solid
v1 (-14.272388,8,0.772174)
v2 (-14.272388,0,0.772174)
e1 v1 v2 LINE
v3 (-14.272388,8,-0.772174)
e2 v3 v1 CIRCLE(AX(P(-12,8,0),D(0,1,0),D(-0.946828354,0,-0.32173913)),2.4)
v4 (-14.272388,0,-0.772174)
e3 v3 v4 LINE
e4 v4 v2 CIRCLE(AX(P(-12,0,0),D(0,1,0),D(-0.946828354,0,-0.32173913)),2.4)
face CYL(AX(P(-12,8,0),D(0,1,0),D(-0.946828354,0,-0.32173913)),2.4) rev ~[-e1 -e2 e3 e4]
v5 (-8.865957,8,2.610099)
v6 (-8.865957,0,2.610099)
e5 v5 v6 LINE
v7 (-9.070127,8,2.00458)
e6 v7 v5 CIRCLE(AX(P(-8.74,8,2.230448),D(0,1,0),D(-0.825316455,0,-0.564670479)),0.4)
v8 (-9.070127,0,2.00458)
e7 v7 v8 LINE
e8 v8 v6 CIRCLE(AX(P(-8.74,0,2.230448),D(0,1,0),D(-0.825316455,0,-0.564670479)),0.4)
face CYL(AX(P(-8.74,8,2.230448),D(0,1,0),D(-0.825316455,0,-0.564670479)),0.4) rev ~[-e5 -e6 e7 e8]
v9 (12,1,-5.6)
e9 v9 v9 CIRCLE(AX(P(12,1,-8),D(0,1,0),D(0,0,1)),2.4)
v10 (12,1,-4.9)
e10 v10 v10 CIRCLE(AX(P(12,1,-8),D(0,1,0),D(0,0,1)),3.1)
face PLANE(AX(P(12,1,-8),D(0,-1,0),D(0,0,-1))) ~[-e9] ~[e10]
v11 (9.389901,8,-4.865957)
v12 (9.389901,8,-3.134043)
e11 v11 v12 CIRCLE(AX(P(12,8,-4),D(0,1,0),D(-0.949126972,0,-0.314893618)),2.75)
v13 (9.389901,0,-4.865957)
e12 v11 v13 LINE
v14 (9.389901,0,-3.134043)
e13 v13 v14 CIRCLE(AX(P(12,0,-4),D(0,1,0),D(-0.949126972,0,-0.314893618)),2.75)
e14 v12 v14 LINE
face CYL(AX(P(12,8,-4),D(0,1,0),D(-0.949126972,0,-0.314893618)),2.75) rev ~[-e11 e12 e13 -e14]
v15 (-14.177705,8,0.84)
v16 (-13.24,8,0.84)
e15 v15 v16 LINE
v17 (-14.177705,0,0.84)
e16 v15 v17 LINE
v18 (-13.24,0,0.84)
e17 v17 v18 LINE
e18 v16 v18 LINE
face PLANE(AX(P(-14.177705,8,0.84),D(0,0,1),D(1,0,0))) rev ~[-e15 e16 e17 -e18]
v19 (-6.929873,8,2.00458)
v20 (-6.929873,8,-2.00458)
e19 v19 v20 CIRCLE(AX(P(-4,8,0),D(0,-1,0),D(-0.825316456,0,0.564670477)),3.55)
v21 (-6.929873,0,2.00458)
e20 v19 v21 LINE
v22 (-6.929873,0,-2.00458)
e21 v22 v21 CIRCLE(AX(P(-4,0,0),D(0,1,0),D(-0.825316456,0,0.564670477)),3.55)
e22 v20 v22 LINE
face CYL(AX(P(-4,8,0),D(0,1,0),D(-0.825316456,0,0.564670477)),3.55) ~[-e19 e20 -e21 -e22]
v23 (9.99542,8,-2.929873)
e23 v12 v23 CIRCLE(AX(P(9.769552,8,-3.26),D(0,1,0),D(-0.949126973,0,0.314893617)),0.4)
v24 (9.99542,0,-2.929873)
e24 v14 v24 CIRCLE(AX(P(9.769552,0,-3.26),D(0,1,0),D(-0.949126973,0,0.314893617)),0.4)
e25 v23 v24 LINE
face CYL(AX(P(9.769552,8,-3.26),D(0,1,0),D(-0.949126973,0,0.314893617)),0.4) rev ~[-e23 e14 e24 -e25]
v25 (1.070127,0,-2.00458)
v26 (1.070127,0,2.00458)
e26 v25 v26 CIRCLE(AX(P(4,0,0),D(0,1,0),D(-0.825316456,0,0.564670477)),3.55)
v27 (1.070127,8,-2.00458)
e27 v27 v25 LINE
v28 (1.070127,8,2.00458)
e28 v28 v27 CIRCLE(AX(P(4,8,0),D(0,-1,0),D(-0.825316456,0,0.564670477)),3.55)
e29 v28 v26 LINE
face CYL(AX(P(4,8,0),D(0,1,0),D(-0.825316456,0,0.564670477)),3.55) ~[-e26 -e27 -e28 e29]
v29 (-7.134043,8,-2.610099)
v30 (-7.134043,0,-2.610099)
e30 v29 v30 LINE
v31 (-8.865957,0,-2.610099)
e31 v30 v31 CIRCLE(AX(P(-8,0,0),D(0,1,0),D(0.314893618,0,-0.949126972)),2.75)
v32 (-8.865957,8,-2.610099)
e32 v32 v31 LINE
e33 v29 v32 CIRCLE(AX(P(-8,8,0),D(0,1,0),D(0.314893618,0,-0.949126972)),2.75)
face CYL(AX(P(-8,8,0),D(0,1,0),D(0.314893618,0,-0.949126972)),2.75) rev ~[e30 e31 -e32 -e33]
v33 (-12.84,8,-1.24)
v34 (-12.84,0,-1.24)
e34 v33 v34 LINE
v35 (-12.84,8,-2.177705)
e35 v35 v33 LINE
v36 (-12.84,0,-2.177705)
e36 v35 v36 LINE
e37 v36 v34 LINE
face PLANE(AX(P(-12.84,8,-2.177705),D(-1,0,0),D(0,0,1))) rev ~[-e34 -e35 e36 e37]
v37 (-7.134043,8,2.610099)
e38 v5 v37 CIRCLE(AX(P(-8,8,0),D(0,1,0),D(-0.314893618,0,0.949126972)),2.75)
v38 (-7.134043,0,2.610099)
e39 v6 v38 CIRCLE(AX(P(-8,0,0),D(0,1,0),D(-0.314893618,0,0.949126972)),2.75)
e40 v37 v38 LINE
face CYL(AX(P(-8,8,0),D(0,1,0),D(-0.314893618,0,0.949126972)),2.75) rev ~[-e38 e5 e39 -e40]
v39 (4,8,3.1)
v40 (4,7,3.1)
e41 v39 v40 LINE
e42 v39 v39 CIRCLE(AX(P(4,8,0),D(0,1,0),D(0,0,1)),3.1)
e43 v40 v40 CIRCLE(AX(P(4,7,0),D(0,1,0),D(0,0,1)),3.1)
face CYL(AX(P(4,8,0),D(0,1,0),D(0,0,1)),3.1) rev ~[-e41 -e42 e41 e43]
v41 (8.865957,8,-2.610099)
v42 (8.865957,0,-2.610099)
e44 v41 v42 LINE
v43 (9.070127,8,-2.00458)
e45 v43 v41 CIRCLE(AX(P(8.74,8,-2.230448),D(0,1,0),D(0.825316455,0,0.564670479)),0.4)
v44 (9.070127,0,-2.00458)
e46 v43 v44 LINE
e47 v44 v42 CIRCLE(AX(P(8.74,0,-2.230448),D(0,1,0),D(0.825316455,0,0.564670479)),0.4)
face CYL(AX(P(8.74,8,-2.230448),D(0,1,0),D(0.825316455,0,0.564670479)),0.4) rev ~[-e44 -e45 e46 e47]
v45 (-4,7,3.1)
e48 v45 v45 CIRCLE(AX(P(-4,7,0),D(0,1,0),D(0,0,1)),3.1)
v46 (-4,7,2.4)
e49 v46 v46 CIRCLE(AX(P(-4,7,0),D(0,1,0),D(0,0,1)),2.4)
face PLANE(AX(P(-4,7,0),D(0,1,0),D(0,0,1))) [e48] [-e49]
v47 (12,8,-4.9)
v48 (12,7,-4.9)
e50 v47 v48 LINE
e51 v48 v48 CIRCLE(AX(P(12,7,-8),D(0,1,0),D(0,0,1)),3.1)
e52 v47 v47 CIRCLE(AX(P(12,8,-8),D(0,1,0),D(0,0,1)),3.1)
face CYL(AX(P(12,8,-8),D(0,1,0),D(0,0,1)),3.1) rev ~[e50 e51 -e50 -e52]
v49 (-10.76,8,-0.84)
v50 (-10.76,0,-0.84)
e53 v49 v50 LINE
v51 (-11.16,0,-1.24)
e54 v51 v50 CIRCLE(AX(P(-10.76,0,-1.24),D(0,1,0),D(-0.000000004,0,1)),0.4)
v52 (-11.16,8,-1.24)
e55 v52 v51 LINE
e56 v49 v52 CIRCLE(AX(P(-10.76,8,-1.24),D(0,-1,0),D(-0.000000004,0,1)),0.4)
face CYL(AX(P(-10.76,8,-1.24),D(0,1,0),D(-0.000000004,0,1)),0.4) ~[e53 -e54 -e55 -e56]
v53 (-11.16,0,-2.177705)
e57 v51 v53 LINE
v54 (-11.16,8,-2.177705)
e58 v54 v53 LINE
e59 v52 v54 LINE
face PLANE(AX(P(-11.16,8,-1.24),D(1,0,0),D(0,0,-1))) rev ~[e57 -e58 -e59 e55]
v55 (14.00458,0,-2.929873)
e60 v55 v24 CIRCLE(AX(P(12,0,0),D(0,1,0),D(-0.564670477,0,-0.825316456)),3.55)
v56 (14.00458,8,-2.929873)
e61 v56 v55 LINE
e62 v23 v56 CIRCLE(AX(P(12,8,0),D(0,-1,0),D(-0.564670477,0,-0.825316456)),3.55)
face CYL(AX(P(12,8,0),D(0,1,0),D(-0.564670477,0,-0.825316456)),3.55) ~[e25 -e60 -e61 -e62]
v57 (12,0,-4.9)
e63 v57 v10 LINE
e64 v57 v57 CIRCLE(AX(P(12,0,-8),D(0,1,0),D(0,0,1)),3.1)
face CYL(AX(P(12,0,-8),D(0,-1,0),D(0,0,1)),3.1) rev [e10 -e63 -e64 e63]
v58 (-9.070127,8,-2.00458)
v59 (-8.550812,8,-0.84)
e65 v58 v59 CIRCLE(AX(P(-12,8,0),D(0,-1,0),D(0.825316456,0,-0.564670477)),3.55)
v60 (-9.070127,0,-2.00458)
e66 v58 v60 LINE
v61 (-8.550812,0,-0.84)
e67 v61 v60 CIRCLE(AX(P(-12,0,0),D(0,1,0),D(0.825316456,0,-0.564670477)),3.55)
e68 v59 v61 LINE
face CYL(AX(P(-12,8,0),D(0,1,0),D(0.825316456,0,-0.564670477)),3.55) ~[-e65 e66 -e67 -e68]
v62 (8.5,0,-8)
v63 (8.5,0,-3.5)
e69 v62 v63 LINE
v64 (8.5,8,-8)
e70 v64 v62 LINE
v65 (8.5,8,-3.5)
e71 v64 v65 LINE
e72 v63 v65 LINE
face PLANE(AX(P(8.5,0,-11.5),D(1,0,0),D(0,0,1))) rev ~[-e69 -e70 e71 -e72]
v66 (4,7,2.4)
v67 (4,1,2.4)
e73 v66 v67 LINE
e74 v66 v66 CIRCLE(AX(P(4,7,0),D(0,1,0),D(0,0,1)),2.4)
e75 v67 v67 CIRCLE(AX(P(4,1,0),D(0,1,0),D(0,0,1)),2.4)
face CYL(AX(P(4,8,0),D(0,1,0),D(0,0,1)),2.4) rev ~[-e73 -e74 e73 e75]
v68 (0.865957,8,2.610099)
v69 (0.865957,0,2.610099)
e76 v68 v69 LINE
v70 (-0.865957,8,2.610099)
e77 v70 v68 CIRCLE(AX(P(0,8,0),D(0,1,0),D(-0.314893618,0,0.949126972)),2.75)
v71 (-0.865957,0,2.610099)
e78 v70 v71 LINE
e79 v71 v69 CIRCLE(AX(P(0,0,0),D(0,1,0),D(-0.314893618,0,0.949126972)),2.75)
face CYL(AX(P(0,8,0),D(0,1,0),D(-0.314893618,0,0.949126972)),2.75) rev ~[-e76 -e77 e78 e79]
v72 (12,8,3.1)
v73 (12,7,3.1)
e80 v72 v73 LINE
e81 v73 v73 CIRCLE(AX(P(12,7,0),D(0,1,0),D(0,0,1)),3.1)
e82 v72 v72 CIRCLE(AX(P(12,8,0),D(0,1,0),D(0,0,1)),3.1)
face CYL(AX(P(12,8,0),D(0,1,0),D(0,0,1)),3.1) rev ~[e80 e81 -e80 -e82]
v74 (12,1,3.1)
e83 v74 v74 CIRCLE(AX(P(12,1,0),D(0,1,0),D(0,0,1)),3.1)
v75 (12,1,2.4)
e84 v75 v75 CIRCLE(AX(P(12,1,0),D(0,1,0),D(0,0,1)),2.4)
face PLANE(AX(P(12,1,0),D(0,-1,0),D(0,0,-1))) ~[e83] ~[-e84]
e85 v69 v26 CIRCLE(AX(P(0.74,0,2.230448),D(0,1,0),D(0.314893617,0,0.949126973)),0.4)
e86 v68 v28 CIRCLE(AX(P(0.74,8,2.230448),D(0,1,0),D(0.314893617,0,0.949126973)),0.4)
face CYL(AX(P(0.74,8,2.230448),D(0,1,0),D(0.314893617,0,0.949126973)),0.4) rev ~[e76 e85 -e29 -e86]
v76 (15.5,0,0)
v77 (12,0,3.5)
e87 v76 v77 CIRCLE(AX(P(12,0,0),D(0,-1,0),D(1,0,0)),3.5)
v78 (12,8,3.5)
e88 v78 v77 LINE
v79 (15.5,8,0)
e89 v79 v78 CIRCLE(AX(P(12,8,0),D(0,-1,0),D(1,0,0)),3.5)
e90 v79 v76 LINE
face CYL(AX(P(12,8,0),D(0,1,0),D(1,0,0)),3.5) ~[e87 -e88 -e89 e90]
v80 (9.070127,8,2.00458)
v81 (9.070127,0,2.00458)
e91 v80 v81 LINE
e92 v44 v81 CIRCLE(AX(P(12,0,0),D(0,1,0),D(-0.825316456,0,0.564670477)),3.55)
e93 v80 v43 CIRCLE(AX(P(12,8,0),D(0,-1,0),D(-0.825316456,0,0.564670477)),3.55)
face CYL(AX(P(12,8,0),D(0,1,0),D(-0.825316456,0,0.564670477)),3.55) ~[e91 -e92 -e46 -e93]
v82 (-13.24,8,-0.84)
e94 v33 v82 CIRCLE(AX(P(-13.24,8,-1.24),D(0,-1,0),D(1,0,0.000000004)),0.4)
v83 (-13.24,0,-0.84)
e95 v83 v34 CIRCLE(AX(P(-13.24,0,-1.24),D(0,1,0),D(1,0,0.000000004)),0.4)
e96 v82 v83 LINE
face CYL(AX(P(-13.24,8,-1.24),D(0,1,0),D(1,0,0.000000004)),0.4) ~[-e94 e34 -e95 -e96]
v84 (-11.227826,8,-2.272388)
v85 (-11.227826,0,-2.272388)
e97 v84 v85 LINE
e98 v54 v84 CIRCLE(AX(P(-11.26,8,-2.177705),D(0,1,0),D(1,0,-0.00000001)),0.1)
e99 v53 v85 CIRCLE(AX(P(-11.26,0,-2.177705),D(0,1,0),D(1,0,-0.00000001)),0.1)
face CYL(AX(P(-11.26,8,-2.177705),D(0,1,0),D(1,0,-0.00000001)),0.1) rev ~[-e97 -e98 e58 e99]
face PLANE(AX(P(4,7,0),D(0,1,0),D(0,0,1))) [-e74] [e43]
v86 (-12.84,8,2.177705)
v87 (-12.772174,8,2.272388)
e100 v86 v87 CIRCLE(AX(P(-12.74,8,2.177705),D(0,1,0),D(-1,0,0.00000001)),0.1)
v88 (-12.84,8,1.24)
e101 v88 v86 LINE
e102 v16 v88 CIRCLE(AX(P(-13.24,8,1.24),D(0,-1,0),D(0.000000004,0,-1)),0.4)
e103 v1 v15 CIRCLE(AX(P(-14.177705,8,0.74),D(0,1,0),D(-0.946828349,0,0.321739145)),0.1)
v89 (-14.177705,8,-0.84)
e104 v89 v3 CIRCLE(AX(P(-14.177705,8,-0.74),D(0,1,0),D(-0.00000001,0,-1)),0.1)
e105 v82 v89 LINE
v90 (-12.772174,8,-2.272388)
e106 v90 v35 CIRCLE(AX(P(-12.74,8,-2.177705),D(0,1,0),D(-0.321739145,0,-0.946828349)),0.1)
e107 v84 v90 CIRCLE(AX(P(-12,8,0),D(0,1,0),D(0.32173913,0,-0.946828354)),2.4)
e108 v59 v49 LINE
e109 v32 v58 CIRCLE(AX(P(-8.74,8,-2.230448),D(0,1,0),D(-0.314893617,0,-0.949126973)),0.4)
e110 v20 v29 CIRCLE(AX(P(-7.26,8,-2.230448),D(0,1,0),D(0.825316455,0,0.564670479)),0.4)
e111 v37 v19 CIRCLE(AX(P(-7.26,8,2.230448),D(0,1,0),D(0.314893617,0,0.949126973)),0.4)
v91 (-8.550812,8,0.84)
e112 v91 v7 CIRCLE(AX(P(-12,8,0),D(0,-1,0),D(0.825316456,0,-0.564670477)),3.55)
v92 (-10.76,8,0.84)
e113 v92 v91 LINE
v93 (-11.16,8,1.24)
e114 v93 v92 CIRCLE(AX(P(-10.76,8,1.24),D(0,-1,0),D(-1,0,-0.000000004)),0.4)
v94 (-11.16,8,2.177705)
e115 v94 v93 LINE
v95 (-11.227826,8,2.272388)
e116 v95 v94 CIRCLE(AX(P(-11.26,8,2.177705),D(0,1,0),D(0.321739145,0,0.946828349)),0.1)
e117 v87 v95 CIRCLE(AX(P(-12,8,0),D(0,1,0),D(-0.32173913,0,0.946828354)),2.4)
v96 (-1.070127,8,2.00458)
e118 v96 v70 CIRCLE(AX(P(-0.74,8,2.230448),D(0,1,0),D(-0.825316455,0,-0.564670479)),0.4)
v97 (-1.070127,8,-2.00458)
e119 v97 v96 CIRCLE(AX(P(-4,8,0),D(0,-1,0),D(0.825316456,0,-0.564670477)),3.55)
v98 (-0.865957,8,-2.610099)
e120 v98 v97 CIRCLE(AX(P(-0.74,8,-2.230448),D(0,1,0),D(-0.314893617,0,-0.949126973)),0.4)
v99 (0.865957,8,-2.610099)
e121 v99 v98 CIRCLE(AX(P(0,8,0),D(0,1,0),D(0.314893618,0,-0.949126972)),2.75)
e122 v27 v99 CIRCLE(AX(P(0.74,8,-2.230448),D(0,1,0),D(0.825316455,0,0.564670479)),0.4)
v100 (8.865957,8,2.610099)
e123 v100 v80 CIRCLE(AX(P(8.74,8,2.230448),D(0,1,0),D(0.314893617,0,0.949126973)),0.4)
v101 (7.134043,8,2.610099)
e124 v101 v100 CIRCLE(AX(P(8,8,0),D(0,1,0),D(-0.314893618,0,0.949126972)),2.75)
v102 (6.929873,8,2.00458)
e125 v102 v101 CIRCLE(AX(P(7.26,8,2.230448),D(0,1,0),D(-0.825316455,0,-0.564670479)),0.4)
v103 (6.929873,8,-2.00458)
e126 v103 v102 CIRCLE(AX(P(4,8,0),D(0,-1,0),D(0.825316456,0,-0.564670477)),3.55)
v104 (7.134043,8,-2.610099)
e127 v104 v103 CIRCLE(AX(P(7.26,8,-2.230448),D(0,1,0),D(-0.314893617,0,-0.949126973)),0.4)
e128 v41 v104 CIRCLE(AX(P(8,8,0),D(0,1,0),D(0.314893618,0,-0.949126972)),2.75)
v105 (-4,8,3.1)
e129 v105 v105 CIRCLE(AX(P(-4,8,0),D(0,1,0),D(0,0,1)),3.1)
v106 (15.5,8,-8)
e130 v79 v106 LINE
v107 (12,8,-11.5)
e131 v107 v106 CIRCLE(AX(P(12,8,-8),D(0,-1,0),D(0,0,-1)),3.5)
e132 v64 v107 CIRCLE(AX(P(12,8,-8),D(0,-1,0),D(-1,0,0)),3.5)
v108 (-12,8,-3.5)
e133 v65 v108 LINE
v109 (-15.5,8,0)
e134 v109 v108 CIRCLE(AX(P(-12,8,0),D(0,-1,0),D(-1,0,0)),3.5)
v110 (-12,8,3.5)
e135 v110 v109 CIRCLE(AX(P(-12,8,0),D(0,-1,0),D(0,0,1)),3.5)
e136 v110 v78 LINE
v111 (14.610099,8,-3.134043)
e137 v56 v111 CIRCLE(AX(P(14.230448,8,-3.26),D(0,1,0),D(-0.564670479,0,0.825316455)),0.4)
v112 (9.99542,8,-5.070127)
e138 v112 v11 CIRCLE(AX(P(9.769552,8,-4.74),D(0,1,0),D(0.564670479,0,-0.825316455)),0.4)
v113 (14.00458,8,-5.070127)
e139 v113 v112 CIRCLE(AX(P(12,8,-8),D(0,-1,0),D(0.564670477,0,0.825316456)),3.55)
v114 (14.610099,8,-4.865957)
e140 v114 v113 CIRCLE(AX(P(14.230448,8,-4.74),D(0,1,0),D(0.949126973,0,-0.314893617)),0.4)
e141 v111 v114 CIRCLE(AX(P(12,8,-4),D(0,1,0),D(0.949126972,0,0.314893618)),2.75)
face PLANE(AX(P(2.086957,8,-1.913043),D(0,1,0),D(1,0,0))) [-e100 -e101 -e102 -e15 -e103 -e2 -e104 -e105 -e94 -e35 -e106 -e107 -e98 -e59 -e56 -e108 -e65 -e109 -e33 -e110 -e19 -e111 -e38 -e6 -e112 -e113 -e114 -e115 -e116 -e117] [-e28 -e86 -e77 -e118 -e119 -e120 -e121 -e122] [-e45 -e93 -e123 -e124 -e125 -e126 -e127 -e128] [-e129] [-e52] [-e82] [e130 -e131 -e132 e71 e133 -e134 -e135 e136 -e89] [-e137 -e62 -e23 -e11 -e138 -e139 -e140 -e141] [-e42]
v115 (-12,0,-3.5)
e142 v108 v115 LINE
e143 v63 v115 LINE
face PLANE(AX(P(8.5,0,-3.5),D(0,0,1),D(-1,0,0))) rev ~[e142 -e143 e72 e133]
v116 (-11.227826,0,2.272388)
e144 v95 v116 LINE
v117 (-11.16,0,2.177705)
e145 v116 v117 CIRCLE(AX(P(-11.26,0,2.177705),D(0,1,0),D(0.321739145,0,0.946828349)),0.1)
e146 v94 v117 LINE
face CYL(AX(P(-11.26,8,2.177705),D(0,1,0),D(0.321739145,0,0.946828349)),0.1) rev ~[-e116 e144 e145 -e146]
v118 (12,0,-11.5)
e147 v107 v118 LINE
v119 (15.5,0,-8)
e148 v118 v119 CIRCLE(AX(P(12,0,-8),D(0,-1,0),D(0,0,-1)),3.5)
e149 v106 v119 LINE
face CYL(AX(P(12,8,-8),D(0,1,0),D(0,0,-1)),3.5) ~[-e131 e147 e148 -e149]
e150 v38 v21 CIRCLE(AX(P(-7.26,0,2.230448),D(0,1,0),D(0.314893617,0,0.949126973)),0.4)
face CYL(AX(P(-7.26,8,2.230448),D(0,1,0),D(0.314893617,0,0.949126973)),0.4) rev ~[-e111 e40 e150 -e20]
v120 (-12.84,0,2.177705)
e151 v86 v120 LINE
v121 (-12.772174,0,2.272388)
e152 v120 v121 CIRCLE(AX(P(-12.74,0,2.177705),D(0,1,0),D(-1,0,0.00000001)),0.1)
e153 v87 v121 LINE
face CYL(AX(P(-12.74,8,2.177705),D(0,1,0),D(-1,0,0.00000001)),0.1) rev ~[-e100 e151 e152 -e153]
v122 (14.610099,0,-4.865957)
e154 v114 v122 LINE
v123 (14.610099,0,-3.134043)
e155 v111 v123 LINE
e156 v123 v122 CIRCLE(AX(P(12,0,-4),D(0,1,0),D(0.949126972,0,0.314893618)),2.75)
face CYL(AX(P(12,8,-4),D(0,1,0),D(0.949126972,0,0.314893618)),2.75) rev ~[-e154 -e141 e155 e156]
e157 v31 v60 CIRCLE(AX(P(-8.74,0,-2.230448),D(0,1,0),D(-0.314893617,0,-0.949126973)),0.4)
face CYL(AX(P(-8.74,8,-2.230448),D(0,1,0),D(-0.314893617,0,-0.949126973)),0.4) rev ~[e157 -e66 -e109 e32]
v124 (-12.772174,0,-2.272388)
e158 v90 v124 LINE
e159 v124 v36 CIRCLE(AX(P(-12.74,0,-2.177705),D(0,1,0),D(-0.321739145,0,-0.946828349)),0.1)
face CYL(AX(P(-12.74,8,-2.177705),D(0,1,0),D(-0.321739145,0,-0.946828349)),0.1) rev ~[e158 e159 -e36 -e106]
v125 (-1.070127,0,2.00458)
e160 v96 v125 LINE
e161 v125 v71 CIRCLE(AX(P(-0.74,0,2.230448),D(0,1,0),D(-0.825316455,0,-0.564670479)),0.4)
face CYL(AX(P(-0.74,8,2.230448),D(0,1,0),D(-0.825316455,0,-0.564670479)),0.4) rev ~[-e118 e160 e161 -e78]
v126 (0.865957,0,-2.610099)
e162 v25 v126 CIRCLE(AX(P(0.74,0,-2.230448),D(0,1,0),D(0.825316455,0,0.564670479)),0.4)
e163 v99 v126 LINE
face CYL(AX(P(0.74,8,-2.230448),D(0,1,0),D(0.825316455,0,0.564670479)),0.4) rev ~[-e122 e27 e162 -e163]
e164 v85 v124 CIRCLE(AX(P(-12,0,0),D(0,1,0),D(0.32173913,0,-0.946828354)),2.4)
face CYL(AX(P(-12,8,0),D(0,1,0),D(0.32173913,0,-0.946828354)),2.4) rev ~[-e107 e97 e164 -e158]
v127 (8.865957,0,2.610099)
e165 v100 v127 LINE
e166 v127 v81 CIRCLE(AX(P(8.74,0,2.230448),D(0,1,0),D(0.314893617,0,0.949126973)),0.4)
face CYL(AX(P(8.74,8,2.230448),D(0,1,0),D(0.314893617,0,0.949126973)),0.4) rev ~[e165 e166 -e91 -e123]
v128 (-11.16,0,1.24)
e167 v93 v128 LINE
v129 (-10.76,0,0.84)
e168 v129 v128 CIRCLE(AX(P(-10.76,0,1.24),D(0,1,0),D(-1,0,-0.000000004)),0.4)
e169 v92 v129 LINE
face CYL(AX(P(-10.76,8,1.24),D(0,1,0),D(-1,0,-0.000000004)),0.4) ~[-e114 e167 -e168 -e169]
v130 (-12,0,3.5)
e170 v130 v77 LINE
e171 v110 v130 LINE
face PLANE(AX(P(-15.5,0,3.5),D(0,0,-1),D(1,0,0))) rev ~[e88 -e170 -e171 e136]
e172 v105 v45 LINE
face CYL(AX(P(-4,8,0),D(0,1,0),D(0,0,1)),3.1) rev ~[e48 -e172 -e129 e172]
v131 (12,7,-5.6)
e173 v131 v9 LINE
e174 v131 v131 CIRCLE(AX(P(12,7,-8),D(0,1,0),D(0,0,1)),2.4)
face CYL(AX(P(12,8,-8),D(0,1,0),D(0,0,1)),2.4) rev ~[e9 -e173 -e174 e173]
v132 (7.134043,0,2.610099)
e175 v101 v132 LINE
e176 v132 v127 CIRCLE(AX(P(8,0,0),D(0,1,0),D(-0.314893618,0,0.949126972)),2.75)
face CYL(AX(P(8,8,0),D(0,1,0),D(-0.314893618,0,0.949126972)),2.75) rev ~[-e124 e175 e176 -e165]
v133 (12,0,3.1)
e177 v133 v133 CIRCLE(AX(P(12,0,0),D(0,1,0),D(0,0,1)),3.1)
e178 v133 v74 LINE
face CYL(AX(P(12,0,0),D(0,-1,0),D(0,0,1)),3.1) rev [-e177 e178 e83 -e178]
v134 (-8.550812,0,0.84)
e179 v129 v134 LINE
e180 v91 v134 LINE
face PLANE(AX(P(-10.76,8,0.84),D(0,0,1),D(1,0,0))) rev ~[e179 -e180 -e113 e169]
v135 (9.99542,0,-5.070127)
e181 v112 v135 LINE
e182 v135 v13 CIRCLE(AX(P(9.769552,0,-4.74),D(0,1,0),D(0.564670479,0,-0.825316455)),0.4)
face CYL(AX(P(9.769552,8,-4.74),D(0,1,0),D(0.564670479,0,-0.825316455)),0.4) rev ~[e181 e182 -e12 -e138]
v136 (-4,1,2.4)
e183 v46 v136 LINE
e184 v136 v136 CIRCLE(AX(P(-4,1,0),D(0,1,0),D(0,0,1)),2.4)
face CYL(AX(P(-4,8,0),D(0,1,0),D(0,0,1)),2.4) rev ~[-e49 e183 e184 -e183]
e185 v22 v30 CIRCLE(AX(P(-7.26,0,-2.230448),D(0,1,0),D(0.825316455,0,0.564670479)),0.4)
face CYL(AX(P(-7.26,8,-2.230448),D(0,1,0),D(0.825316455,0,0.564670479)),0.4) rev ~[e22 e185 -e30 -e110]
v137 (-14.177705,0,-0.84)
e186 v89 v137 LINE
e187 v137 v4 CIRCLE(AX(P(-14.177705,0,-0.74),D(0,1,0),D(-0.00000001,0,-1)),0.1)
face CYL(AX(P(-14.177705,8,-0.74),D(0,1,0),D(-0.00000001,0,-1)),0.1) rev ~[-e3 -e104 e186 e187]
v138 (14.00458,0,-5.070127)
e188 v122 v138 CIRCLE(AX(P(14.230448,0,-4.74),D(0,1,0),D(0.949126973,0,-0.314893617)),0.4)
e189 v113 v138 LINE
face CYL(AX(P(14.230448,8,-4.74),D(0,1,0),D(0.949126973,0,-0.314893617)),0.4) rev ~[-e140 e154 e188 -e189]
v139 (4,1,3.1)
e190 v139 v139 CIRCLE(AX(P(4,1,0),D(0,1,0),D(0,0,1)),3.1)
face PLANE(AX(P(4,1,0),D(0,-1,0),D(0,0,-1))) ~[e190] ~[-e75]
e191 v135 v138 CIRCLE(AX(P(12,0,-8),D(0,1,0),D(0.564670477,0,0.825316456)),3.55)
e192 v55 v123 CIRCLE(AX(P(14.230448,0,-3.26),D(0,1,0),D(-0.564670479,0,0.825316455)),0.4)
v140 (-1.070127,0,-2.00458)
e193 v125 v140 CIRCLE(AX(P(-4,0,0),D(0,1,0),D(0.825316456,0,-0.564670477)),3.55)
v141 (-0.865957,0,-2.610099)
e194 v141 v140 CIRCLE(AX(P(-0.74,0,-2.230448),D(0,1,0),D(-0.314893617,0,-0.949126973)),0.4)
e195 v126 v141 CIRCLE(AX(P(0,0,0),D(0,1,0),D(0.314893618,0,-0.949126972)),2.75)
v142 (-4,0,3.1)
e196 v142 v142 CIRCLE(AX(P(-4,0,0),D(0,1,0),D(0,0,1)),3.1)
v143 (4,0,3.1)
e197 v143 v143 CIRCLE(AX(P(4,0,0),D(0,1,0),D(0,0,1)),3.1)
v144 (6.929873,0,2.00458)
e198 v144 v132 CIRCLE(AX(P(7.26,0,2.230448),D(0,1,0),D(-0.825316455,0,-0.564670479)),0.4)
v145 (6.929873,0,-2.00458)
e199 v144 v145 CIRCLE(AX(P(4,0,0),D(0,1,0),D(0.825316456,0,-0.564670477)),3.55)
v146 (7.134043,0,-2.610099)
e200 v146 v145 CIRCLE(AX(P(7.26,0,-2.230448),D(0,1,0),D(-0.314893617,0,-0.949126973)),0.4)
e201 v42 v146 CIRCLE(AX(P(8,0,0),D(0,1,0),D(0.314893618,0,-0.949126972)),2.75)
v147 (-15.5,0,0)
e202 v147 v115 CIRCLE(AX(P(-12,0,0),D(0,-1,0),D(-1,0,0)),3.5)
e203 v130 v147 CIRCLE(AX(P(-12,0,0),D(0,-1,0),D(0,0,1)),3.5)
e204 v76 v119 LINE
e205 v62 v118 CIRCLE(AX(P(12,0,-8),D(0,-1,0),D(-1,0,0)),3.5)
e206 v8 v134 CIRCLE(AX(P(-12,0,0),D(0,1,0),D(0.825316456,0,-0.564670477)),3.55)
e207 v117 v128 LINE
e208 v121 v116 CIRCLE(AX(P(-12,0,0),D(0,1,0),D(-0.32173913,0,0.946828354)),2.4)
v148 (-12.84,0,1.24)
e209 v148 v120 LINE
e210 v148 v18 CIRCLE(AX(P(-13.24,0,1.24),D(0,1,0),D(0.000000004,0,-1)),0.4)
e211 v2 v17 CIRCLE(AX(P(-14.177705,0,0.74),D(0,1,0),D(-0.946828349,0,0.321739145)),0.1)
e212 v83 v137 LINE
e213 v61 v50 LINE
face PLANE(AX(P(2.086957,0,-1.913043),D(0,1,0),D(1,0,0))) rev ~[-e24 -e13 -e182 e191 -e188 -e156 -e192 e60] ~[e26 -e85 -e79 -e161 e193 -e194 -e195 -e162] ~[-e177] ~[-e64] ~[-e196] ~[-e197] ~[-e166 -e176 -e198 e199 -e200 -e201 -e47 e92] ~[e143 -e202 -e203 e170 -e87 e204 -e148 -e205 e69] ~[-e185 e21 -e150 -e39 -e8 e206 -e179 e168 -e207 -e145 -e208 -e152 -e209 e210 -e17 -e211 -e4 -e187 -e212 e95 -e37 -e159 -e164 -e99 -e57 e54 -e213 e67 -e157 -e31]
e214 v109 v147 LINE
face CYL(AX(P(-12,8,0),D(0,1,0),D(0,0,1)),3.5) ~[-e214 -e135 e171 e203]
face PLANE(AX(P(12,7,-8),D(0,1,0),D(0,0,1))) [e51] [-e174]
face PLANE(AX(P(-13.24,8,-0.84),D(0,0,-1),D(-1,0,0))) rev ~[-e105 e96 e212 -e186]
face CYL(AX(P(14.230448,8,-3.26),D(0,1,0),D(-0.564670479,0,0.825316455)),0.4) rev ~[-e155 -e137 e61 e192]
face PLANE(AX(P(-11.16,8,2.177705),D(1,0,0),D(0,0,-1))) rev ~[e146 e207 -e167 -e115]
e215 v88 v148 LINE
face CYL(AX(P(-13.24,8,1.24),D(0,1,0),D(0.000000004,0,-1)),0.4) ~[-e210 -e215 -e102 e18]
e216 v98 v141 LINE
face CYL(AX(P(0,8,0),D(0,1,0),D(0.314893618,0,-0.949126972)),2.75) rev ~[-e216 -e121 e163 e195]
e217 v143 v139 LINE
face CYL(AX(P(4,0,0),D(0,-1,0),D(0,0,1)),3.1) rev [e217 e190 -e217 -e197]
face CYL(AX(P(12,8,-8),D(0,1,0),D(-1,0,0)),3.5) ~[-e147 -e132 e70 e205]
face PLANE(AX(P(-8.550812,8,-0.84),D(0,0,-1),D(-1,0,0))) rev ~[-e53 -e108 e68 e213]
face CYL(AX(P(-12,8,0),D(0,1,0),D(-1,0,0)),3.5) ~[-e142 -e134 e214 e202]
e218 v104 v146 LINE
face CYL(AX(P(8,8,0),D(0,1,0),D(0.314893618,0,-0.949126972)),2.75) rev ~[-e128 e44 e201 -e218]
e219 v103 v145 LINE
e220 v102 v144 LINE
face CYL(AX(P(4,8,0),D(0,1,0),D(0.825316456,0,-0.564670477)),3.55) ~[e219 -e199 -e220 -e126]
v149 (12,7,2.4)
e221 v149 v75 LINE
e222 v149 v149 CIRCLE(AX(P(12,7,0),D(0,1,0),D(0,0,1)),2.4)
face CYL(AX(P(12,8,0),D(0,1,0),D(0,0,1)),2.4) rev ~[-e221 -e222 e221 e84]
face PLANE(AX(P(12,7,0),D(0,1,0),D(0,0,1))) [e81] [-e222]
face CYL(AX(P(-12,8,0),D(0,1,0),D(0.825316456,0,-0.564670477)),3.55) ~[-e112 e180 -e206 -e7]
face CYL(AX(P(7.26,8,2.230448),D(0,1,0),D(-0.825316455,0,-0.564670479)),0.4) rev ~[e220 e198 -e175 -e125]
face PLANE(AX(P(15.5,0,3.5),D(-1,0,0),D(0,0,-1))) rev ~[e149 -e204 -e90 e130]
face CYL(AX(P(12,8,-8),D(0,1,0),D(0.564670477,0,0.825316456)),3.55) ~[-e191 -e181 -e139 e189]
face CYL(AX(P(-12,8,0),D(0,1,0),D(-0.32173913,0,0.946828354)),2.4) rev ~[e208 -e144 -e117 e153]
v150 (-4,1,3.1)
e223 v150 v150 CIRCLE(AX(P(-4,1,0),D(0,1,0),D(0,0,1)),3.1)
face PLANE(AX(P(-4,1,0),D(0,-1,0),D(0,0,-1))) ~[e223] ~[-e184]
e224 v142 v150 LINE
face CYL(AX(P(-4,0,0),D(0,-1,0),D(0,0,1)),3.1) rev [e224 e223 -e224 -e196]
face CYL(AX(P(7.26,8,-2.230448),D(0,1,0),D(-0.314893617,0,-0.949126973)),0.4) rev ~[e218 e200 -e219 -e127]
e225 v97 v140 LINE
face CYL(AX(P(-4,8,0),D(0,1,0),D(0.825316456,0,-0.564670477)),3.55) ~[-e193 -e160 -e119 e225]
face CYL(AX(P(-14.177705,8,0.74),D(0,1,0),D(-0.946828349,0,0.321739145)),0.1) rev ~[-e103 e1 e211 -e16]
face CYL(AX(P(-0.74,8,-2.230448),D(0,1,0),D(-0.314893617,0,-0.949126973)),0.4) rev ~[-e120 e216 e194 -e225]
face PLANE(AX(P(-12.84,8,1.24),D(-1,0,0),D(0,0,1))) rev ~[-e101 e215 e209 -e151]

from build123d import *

# Parameters (mm, degrees)
BOSS_EXTRUDE1_DEPTH = 8
CUT_EXTRUDE1_DEPTH  = 8
SKETCH8_R           = 2.4
CUT_EXTRUDE4_DEPTH  = 21.892582416
SKETCH9_R           = 3.1
CUT_EXTRUDE5_DEPTH  = 1
CUT_EXTRUDE6_DEPTH  = 21.892582416
CUT_EXTRUDE7_DEPTH  = 21.892582416


with BuildPart() as part:
    # Sketch1 → Boss-Extrude1 (new body)
    with BuildSketch(Plane(origin=(0, 0, 0), x_dir=(1, 0, 0), z_dir=(0, 1, 0))):
        Polygon((-15.5, -3.5), (15.5, -3.5), (15.5, 3.5), (15.5, 11.5), (8.5, 11.5), (8.5, 3.5), (-15.5, 3.5), align=None)
    extrude(amount=BOSS_EXTRUDE1_DEPTH)

    # Sketch3 → Cut-Extrude1 (cut)
    with BuildSketch(Plane(origin=(0, 8, 0), x_dir=(1, 0, 0), z_dir=(0, 1, 0))):
        with BuildLine():
            ThreePointArc((-15.5, 0), (-14.474873734, 2.474873734), (-12, 3.5))
            Line((-12, 3.5), (-15.5, 3.5))
            Line((-15.5, 3.5), (-15.5, 0))
        make_face()
        with BuildLine():
            ThreePointArc((-12, -3.5), (-14.474873734, -2.474873734), (-15.5, 0))
            Line((-15.5, 0), (-15.5, -3.5))
            Line((-15.5, -3.5), (-12, -3.5))
        make_face()
        with BuildLine():
            ThreePointArc((15.5, 0), (14.474873734, -2.474873734), (12, -3.5))
            Line((12, -3.5), (15.5, -3.5))
            Line((15.5, -3.5), (15.5, 0))
        make_face()
        with BuildLine():
            Line((15.5, 11.5), (12, 11.5))
            ThreePointArc((12, 11.5), (14.474873734, 10.474873734), (15.5, 8))
            Line((15.5, 8), (15.5, 11.5))
        make_face()
        with BuildLine():
            Line((8.5, 11.5), (8.5, 8))
            ThreePointArc((8.5, 8), (9.525126266, 10.474873734), (12, 11.5))
            Line((12, 11.5), (8.5, 11.5))
        make_face()
    extrude(amount=-CUT_EXTRUDE1_DEPTH, mode=Mode.SUBTRACT)

    # Sketch8 → Cut-Extrude4 (cut, through all)
    with BuildSketch(Plane(origin=(0, 8, 0), x_dir=(1, 0, 0), z_dir=(0, 1, 0))):
        with Locations(Location((12, 8, 0), (0, 0, 270))):
            Circle(SKETCH8_R)
        with Locations(Location((12, 0, 0), (0, 0, 270))):
            Circle(SKETCH8_R)
        with Locations(Location((4, 0, 0), (0, 0, 270))):
            Circle(SKETCH8_R)
        with Locations(Location((-4, 0, 0), (0, 0, 270))):
            Circle(SKETCH8_R)
    extrude(amount=-CUT_EXTRUDE4_DEPTH, mode=Mode.SUBTRACT)

    # Sketch9 → Cut-Extrude5 (cut)
    with BuildSketch(Plane(origin=(0, 8, 0), x_dir=(1, 0, 0), z_dir=(0, 1, 0))):
        with Locations(Location((12, 8, 0), (0, 0, 270))):
            Circle(SKETCH9_R)
        with Locations(Location((12, 0, 0), (0, 0, 270))):
            Circle(SKETCH9_R)
        with Locations(Location((4, 0, 0), (0, 0, 270))):
            Circle(SKETCH9_R)
        with Locations(Location((-4, 0, 0), (0, 0, 270))):
            Circle(SKETCH9_R)
    cut_extrude5 = extrude(amount=-CUT_EXTRUDE5_DEPTH, mode=Mode.SUBTRACT)

    # Mirror1: Cut-Extrude5 across plane
    add(cut_extrude5.mirror(Plane.ZX.offset(4)), mode=Mode.SUBTRACT)

    # Sketch10 → Cut-Extrude6 (cut, through all)
    with BuildSketch(Plane(origin=(0, 8, 0), x_dir=(1, 0, 0), z_dir=(0, 1, 0))):
        with BuildLine():
            ThreePointArc((9.389900826, 4.865957447), (9.25, 4), (9.389900826, 3.134042553))
            ThreePointArc((9.389900826, 3.134042553), (9.641748912, 2.880966401), (9.995419806, 2.929873418))
            ThreePointArc((9.995419806, 2.929873418), (12, 3.55), (14.004580194, 2.929873418))
            ThreePointArc((14.004580194, 2.929873418), (14.358251088, 2.880966401), (14.610099174, 3.134042553))
            ThreePointArc((14.610099174, 3.134042553), (14.75, 4), (14.610099174, 4.865957447))
            ThreePointArc((14.610099174, 4.865957447), (14.358251088, 5.119033599), (14.004580194, 5.070126582))
            ThreePointArc((14.004580194, 5.070126582), (12, 4.45), (9.995419806, 5.070126582))
            ThreePointArc((9.995419806, 5.070126582), (9.641748912, 5.119033599), (9.389900826, 4.865957447))
        make_face()
        with BuildLine():
            ThreePointArc((7.134042553, -2.610099174), (8, -2.75), (8.865957447, -2.610099174))
            ThreePointArc((8.865957447, -2.610099174), (9.119033599, -2.358251088), (9.070126582, -2.004580194))
            ThreePointArc((9.070126582, -2.004580194), (8.45, 0), (9.070126582, 2.004580194))
            ThreePointArc((9.070126582, 2.004580194), (9.119033599, 2.358251088), (8.865957447, 2.610099174))
            ThreePointArc((8.865957447, 2.610099174), (8, 2.75), (7.134042553, 2.610099174))
            ThreePointArc((7.134042553, 2.610099174), (6.880966401, 2.358251088), (6.929873418, 2.004580194))
            ThreePointArc((6.929873418, 2.004580194), (7.55, 0), (6.929873418, -2.004580194))
            ThreePointArc((6.929873418, -2.004580194), (6.880966401, -2.358251088), (7.134042553, -2.610099174))
        make_face()
        with BuildLine():
            ThreePointArc((-0.865957447, -2.610099174), (0, -2.75), (0.865957447, -2.610099174))
            ThreePointArc((0.865957447, -2.610099174), (1.119033599, -2.358251088), (1.070126582, -2.004580194))
            ThreePointArc((1.070126582, -2.004580194), (0.45, 0), (1.070126582, 2.004580194))
            ThreePointArc((1.070126582, 2.004580194), (1.119033599, 2.358251088), (0.865957447, 2.610099174))
            ThreePointArc((0.865957447, 2.610099174), (0, 2.75), (-0.865957447, 2.610099174))
            ThreePointArc((-0.865957447, 2.610099174), (-1.119033599, 2.358251088), (-1.070126582, 2.004580194))
            ThreePointArc((-1.070126582, 2.004580194), (-0.45, 0), (-1.070126582, -2.004580194))
            ThreePointArc((-1.070126582, -2.004580194), (-1.119033599, -2.358251088), (-0.865957447, -2.610099174))
        make_face()
        with BuildLine():
            ThreePointArc((-8.865957447, -2.610099174), (-8, -2.75), (-7.134042553, -2.610099174))
            ThreePointArc((-7.134042553, -2.610099174), (-6.880966401, -2.358251088), (-6.929873418, -2.004580194))
            ThreePointArc((-6.929873418, -2.004580194), (-7.55, 0), (-6.929873418, 2.004580194))
            ThreePointArc((-6.929873418, 2.004580194), (-6.880966401, 2.358251088), (-7.134042553, 2.610099174))
            ThreePointArc((-7.134042553, 2.610099174), (-8, 2.75), (-8.865957447, 2.610099174))
            ThreePointArc((-8.865957447, 2.610099174), (-9.119033599, 2.358251088), (-9.070126582, 2.004580194))
            ThreePointArc((-9.070126582, 2.004580194), (-8.45, 0), (-9.070126582, -2.004580194))
            ThreePointArc((-9.070126582, -2.004580194), (-9.119033599, -2.358251088), (-8.865957447, -2.610099174))
        make_face()
    extrude(amount=-CUT_EXTRUDE6_DEPTH, mode=Mode.SUBTRACT)

    # Sketch11 → Cut-Extrude7 (cut, through all)
    with BuildSketch(Plane(origin=(0, 8, 0), x_dir=(1, 0, 0), z_dir=(0, 1, 0))):
        with BuildLine():
            Line((-13.24, 0.84), (-14.177705214, 0.84))
            ThreePointArc((-14.177705214, 0.84), (-14.235940121, 0.821293884), (-14.27238805, 0.772173913))
            ThreePointArc((-14.27238805, 0.772173913), (-14.4, 0), (-14.27238805, -0.772173913))
            ThreePointArc((-14.27238805, -0.772173913), (-14.235940121, -0.821293884), (-14.177705214, -0.84))
            Line((-14.177705214, -0.84), (-13.24, -0.84))
            ThreePointArc((-13.24, -0.84), (-12.957157288, -0.957157288), (-12.84, -1.24))
            Line((-12.84, -1.24), (-12.84, -2.177705214))
            ThreePointArc((-12.84, -2.177705214), (-12.821293884, -2.235940121), (-12.772173913, -2.27238805))
            ThreePointArc((-12.772173913, -2.27238805), (-12, -2.4), (-11.227826087, -2.27238805))
            ThreePointArc((-11.227826087, -2.27238805), (-11.178706116, -2.235940121), (-11.16, -2.177705214))
            Line((-11.16, -2.177705214), (-11.16, -1.24))
            ThreePointArc((-11.16, -1.24), (-11.042842712, -0.957157288), (-10.76, -0.84))
            Line((-10.76, -0.84), (-9.822294786, -0.84))
            Line((-9.822294786, -0.84), (-9.751800721, -0.84))
            Line((-9.751800721, -0.84), (-8.55081169, -0.84))
            ThreePointArc((-8.55081169, -0.84), (-8.45, 0), (-8.55081169, 0.84))
            Line((-8.55081169, 0.84), (-9.751800721, 0.84))
            Line((-9.751800721, 0.84), (-9.822294786, 0.84))
            Line((-9.822294786, 0.84), (-10.76, 0.84))
            ThreePointArc((-10.76, 0.84), (-11.042842712, 0.957157288), (-11.16, 1.24))
            Line((-11.16, 1.24), (-11.16, 2.177705214))
            ThreePointArc((-11.16, 2.177705214), (-11.178706116, 2.235940121), (-11.227826087, 2.27238805))
            ThreePointArc((-11.227826087, 2.27238805), (-12, 2.4), (-12.772173913, 2.27238805))
            ThreePointArc((-12.772173913, 2.27238805), (-12.821293884, 2.235940121), (-12.84, 2.177705214))
            Line((-12.84, 2.177705214), (-12.84, 1.24))
            ThreePointArc((-12.84, 1.24), (-12.957157288, 0.957157288), (-13.24, 0.84))
        make_face()
    extrude(amount=-CUT_EXTRUDE7_DEPTH, mode=Mode.SUBTRACT)


solid = part.part
